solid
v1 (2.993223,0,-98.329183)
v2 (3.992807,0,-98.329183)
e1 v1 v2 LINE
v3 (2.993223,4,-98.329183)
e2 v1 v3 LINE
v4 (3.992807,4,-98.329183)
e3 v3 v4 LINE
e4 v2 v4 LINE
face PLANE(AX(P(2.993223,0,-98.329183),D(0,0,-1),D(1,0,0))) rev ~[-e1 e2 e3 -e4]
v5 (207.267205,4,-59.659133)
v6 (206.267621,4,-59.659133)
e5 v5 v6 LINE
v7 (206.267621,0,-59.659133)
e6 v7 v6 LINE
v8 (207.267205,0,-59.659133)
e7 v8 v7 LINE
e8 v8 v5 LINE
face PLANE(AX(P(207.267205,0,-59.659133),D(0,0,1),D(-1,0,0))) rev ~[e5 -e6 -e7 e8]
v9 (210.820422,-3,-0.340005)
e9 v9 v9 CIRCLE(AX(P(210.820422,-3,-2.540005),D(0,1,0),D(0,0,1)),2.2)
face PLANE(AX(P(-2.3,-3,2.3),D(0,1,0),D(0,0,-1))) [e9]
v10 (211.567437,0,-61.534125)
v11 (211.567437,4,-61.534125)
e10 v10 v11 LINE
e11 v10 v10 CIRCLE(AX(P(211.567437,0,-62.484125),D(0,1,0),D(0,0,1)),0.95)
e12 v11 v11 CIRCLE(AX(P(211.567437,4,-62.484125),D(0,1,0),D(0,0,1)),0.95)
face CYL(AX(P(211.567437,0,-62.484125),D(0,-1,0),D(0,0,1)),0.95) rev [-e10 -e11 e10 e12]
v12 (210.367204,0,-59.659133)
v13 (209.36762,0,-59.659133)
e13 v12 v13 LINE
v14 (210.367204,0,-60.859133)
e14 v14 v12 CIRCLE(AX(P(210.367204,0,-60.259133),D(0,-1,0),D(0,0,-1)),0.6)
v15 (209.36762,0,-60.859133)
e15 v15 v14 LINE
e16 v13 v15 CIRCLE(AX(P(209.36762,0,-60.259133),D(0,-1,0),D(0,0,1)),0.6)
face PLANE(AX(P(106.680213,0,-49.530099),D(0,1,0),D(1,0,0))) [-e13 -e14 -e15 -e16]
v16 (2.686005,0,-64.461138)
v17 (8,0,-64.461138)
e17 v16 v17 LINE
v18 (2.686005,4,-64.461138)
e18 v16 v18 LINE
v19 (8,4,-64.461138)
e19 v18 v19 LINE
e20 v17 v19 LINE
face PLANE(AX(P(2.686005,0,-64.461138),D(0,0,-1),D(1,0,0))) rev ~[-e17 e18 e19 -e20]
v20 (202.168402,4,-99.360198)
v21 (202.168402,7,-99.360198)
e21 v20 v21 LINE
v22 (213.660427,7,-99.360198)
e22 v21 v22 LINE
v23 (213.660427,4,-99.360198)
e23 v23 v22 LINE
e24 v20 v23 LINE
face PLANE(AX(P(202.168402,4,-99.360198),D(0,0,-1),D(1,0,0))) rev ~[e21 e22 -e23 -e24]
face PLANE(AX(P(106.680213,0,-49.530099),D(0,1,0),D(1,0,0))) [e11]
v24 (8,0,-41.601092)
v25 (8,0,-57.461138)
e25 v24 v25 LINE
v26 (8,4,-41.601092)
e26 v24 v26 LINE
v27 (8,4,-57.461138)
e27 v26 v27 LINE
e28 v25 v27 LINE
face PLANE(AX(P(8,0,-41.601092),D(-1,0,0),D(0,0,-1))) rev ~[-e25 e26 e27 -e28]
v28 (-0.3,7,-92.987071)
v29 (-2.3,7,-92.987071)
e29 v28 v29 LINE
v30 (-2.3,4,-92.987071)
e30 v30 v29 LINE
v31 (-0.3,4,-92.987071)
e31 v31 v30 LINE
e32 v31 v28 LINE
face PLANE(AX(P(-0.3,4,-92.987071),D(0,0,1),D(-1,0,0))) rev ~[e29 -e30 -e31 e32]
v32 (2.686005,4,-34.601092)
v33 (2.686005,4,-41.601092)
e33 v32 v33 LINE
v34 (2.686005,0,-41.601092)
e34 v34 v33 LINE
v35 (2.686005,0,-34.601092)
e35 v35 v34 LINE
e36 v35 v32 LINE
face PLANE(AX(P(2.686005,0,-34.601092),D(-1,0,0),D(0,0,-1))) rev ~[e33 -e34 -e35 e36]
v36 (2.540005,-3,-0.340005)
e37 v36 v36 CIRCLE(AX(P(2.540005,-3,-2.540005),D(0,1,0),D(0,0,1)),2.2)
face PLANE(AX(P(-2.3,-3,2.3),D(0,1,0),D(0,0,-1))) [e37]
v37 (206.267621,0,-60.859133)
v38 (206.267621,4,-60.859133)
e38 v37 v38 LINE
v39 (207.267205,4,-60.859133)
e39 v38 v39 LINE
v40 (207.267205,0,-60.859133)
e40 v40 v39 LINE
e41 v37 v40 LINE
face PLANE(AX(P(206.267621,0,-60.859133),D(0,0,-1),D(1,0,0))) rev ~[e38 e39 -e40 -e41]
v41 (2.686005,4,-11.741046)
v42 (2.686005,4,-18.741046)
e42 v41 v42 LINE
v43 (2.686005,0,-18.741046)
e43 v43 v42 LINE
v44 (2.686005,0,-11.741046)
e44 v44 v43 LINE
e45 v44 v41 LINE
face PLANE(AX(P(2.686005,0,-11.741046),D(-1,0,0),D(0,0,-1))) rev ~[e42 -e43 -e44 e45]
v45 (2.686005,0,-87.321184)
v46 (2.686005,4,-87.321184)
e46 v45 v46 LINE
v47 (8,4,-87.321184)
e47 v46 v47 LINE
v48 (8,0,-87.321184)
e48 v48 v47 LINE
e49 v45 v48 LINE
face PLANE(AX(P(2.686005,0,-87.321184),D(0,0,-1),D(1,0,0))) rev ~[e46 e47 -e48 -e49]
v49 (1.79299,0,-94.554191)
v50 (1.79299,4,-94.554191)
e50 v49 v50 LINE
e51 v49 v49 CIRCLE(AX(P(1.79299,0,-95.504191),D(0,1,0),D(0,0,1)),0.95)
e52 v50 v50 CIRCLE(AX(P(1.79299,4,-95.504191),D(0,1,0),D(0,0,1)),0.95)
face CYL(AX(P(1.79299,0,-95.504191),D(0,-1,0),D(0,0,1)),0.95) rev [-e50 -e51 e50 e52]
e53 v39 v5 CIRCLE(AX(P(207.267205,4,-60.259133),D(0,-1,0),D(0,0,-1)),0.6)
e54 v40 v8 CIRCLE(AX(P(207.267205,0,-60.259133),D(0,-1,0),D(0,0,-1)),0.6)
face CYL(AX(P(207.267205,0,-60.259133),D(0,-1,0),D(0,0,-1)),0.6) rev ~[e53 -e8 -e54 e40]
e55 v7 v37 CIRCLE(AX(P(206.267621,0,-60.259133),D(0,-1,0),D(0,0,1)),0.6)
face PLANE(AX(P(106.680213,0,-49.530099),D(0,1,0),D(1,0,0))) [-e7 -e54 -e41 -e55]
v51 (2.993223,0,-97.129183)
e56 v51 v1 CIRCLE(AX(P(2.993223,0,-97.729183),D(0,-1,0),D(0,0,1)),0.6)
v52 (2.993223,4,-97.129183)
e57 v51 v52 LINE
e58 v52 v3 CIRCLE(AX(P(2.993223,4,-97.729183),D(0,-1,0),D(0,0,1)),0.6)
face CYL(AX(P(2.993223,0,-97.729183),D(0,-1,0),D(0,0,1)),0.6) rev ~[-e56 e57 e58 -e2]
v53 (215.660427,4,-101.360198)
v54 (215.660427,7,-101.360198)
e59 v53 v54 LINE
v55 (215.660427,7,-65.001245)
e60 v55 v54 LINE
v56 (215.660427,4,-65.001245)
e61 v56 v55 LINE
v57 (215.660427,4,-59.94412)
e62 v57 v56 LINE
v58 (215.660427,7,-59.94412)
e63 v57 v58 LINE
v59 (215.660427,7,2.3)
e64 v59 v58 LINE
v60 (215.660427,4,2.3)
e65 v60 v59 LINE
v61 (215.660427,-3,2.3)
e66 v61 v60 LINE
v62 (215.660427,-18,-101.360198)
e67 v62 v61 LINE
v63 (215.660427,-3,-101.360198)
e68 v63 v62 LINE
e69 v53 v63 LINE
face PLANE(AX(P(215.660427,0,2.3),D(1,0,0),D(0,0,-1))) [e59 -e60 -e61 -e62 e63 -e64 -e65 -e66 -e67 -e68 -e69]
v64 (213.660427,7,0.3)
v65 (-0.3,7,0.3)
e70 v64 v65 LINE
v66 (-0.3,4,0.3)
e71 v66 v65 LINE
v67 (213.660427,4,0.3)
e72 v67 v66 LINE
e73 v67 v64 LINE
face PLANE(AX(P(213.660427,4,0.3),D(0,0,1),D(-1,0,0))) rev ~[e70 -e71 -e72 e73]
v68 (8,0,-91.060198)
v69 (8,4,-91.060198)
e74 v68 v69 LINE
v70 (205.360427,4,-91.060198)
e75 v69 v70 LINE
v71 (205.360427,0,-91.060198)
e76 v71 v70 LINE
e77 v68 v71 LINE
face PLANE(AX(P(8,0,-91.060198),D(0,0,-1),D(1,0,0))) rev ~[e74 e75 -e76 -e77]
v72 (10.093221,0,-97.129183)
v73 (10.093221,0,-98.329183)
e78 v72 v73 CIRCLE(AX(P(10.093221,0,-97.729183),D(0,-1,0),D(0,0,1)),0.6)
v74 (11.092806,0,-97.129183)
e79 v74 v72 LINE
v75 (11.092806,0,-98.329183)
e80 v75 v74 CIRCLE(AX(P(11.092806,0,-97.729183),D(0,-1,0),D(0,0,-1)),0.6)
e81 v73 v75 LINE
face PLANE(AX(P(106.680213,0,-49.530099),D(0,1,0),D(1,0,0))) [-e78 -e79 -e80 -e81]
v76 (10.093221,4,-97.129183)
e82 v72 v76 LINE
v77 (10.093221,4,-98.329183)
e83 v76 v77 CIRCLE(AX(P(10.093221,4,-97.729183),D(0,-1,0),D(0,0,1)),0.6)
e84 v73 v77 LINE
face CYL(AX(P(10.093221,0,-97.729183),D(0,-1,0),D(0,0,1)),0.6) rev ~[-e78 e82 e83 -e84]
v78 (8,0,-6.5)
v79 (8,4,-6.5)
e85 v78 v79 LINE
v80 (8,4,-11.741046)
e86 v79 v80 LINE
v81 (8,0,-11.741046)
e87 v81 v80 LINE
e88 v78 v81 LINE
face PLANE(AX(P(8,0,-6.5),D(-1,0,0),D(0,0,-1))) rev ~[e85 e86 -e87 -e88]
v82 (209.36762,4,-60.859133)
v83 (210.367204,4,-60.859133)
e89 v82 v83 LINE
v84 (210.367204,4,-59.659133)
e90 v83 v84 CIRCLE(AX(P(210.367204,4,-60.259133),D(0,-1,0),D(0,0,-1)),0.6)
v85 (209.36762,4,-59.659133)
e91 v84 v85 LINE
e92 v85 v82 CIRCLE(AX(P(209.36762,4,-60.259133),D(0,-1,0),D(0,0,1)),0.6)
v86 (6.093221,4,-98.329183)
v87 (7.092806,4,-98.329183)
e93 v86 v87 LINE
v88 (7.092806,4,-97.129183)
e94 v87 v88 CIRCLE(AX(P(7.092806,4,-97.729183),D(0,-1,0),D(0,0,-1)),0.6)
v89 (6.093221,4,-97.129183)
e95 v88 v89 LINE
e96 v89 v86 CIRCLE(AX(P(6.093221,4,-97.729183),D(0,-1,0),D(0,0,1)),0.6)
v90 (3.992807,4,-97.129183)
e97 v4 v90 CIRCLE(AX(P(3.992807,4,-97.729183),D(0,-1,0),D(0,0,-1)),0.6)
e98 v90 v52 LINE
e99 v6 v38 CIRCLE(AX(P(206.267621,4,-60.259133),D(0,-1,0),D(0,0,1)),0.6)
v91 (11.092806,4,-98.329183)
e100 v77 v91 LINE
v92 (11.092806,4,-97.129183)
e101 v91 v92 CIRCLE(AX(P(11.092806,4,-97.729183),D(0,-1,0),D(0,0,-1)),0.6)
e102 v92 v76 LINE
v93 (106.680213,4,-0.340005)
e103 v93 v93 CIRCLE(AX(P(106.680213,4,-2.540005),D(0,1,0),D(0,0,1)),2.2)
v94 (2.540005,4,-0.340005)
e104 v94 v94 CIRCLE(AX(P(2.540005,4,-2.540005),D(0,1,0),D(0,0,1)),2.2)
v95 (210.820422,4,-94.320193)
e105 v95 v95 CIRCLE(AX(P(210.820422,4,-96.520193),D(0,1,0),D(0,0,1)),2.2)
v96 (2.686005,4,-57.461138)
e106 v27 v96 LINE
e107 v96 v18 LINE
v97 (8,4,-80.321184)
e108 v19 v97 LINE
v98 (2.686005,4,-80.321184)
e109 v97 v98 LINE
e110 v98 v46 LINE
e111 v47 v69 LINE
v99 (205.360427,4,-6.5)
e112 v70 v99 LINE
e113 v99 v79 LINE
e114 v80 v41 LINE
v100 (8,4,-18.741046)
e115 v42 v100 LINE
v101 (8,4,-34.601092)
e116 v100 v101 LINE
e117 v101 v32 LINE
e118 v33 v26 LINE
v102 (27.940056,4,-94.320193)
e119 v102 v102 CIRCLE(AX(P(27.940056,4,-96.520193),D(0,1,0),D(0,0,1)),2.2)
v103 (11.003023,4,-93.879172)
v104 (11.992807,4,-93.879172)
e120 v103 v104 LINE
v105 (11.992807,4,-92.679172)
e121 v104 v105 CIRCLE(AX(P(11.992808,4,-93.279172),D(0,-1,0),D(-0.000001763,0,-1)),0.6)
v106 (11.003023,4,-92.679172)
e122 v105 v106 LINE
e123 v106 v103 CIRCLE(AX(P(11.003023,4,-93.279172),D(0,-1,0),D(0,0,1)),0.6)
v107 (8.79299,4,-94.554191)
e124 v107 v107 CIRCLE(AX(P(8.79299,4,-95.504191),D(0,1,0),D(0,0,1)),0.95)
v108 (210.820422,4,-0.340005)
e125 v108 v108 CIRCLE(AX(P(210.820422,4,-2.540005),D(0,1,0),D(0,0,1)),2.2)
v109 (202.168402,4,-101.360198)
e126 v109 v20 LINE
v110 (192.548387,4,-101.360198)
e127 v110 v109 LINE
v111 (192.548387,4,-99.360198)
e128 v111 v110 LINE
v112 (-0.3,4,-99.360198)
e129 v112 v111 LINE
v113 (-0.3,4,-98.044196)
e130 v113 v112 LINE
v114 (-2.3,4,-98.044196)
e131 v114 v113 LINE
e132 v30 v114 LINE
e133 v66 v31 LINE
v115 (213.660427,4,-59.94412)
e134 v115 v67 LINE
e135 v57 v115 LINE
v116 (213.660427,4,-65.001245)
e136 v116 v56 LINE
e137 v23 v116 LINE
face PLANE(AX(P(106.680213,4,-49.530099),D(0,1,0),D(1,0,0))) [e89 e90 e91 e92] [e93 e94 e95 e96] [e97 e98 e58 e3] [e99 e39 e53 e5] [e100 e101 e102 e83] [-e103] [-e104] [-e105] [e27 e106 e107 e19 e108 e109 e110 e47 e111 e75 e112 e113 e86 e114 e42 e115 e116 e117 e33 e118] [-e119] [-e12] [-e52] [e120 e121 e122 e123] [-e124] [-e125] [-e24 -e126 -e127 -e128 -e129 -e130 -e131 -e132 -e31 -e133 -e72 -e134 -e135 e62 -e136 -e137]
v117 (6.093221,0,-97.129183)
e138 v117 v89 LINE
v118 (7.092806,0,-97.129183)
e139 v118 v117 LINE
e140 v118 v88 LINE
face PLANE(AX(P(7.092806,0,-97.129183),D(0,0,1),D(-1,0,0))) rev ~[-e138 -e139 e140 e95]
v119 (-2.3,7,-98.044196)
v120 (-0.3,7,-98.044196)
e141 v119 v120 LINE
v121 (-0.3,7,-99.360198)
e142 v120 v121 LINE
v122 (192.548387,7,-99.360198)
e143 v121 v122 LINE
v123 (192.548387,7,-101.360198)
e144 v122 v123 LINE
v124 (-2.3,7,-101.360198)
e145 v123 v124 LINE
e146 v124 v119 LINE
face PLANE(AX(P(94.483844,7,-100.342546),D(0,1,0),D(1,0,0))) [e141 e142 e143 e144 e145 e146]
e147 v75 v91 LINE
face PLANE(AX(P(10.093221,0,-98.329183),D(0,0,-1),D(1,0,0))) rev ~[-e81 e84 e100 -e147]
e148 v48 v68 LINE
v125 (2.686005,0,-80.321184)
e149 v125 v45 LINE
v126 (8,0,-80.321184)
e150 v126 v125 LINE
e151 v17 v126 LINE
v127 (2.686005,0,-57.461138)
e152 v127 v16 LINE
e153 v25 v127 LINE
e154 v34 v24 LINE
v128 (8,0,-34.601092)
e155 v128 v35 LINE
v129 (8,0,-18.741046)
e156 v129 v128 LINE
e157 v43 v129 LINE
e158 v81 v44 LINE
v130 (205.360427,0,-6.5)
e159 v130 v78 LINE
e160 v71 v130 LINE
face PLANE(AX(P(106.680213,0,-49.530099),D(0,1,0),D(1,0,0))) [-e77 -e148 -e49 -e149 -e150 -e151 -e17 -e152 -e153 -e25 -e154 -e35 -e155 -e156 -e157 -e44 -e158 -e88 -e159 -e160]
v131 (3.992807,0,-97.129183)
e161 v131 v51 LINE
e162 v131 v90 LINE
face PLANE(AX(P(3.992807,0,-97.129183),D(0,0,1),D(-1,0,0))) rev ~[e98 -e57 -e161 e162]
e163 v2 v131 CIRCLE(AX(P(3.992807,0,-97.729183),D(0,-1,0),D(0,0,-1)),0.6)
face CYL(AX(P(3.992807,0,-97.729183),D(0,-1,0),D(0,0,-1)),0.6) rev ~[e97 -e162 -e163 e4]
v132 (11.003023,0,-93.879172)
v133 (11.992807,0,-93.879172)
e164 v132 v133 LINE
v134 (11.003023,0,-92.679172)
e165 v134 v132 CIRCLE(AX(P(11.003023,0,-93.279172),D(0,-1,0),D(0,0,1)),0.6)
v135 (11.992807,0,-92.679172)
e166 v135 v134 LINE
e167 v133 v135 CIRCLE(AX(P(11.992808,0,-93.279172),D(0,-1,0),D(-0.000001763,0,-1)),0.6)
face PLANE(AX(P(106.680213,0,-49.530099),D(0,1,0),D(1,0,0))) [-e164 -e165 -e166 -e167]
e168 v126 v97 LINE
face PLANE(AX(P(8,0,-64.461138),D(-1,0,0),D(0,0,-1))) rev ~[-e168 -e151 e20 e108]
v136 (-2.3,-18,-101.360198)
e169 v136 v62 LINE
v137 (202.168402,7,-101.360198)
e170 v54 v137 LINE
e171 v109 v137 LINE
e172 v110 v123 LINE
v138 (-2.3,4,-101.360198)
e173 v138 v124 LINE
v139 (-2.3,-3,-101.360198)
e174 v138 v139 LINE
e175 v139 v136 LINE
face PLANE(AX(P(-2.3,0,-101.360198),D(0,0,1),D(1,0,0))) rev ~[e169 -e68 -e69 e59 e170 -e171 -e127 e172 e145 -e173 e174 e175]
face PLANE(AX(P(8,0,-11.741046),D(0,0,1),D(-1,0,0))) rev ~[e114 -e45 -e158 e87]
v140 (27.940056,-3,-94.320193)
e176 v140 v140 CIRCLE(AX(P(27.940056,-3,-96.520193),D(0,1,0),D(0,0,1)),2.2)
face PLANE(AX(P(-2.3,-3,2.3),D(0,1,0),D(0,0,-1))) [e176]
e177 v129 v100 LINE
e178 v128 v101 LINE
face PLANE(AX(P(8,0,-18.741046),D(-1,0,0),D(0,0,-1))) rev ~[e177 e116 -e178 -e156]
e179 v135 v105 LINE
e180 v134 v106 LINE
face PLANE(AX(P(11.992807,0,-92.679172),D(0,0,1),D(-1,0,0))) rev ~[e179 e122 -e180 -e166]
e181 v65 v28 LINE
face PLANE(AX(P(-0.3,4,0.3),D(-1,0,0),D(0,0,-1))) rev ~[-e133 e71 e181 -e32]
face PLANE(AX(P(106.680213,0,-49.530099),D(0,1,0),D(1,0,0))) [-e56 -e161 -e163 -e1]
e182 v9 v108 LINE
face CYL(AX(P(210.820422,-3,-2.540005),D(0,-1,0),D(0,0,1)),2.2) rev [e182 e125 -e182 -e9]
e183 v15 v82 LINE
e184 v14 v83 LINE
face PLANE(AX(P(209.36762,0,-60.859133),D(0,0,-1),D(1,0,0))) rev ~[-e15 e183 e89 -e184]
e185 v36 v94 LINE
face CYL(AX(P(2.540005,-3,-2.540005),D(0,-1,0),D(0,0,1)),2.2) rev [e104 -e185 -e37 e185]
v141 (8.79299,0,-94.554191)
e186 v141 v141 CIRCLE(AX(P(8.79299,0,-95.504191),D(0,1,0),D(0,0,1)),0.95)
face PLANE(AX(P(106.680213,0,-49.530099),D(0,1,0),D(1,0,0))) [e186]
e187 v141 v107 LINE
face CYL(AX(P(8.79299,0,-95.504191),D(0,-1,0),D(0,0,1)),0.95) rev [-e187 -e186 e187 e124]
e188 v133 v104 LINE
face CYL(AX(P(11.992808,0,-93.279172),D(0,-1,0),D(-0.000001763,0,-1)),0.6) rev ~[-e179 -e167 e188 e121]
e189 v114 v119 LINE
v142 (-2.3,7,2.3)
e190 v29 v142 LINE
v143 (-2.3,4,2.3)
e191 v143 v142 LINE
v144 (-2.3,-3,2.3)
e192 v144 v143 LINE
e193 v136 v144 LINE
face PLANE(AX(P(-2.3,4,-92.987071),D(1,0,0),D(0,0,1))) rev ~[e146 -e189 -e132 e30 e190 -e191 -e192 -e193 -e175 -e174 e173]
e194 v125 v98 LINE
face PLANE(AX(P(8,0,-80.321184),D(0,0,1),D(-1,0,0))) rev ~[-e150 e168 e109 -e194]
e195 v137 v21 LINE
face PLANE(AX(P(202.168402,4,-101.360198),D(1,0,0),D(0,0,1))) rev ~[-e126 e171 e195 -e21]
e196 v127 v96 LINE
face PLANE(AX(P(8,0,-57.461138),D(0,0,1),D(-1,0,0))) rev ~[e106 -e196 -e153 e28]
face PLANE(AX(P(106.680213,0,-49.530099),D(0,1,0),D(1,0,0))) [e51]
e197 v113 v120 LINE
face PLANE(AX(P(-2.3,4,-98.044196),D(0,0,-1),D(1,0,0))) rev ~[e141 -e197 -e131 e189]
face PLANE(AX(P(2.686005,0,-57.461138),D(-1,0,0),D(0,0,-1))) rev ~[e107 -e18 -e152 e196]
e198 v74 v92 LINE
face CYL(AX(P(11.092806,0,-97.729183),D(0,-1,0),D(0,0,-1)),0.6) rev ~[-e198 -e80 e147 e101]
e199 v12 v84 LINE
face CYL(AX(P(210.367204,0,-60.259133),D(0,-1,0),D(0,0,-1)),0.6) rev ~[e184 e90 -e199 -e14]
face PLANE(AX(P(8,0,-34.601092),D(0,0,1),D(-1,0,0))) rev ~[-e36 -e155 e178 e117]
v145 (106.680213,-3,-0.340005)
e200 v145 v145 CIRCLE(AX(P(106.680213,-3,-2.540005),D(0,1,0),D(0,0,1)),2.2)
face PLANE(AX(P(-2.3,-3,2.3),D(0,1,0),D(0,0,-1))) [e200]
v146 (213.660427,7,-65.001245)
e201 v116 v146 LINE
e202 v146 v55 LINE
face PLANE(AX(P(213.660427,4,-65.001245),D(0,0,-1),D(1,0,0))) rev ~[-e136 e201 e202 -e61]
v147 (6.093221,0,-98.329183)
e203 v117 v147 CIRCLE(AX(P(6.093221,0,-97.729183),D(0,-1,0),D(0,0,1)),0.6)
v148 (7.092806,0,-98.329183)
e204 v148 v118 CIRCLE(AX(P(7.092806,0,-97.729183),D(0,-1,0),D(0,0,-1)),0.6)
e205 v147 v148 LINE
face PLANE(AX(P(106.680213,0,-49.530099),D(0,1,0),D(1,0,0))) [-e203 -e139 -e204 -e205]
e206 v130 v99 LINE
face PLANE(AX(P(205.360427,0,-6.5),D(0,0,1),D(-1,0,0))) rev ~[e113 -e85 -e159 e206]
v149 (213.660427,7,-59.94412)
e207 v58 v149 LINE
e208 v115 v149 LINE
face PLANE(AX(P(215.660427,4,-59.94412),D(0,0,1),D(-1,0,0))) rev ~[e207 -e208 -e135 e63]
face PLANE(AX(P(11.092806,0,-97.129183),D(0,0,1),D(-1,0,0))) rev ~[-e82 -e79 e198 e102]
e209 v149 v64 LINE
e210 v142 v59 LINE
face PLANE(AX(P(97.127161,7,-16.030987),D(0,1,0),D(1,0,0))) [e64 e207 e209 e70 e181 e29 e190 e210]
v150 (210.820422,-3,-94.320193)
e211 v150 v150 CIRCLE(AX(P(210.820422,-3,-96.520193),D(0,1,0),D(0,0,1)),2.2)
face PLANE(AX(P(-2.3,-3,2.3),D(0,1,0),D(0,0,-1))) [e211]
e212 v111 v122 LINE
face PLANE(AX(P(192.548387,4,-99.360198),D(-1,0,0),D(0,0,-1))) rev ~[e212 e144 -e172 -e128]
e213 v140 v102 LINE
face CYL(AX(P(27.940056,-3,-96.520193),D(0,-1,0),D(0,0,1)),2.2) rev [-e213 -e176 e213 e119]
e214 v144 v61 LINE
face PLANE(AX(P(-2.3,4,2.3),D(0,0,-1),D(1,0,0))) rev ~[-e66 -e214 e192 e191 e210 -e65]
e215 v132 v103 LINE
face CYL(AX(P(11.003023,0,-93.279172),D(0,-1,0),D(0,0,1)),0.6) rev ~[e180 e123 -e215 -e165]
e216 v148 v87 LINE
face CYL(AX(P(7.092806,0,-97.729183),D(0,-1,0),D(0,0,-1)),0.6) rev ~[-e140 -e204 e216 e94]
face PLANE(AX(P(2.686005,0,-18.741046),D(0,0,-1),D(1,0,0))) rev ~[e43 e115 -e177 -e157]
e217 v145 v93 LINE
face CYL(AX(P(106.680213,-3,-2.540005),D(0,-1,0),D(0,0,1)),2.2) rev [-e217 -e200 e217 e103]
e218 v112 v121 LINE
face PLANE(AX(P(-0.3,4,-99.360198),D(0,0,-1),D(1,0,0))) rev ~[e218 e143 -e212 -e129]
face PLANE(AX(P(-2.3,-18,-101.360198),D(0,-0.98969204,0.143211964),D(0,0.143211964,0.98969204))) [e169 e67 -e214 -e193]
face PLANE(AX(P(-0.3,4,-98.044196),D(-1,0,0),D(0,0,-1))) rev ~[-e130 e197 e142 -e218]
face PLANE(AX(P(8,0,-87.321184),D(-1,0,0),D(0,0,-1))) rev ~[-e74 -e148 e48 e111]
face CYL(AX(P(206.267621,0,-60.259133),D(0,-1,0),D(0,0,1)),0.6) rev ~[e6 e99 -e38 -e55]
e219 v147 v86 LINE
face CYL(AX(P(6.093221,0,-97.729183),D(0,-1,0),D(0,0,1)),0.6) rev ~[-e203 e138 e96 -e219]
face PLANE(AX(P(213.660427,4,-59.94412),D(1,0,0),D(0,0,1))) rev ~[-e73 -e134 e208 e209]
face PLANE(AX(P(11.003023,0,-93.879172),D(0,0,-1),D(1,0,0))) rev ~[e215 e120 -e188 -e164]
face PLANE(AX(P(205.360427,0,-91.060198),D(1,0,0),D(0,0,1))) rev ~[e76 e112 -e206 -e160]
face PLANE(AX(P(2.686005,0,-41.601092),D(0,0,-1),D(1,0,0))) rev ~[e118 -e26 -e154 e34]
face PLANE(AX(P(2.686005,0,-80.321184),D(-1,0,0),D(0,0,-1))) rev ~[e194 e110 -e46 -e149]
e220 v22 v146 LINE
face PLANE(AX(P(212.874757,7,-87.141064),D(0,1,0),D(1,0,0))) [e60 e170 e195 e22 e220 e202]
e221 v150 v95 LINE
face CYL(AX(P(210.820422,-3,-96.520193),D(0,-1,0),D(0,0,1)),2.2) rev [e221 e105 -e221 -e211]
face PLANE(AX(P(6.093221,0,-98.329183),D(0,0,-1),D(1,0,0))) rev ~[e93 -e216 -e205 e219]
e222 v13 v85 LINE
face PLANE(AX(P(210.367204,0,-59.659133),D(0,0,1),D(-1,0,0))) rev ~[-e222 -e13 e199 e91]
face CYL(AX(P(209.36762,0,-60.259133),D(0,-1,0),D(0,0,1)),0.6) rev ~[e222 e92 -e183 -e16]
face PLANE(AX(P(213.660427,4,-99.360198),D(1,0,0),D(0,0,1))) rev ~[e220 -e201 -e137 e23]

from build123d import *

# Parameters (mm, degrees)
SKETCH4_W           = 217.960426721
SKETCH4_H           = 103.66019812
SKETCH4_R           = 2.2
SKETCH4_R_2         = 0.95
BOSS_EXTRUDE1_DEPTH = 4
SKETCH4_7_W         = 217.960426721
SKETCH4_7_H         = 103.66019812
BOSS_EXTRUDE2_DEPTH = 3
CUT_EXTRUDE1_START  = -3
SKETCH4_8_R         = 2.2
CUT_EXTRUDE1_DEPTH  = 3
BOSS_EXTRUDE3_START = 4
BOSS_EXTRUDE3_DEPTH = 3
BOSS_EXTRUDE4_DEPTH = 217.960426721


with BuildPart() as part:
    # Sketch4 → Boss-Extrude1 (new body)
    with BuildSketch(Plane(origin=(0, 0, 0), x_dir=(1, 0, 0), z_dir=(0, 1, 0))):
        with Locations((106.680213361, 49.53009906)):
            Rectangle(SKETCH4_W, SKETCH4_H)
        with Locations(Location((2.54000508, 2.54000508, 0), (0, 0, 270))):
            Circle(SKETCH4_R, mode=Mode.SUBTRACT)
        with Locations(Location((106.68021336, 2.54000508, 0), (0, 0, 270))):
            Circle(SKETCH4_R, mode=Mode.SUBTRACT)
        Polygon((205.360426721, 91.06019812), (205.360426721, 6.5), (8, 6.5), (8, 11.741046482), (2.686004572, 11.741046482), (2.686004572, 18.741046482), (8, 18.741046482), (8, 34.601092202), (2.686004572, 34.601092202), (2.686004572, 41.601092202), (8, 41.601092202), (8, 57.461137922), (2.686004572, 57.461137922), (2.686004572, 64.461137922), (8, 64.461137922), (8, 80.321183642), (2.686004572, 80.321183642), (2.686004572, 87.321183642), (8, 87.321183642), (8, 91.06019812), align=None, mode=Mode.SUBTRACT)
        with Locations(Location((210.820421641, 2.54000508, 0), (0, 0, 270))):
            Circle(SKETCH4_R, mode=Mode.SUBTRACT)
        with Locations(Location((1.792989586, 95.504191008, 0), (0, 0, 270))):
            Circle(SKETCH4_R_2, mode=Mode.SUBTRACT)
        with BuildLine():
            ThreePointArc((11.003022606, 92.679171958), (10.403022606, 93.279171958), (11.003022606, 93.879171958))
            Line((11.003022606, 93.879171958), (11.992807214, 93.879171958))
            ThreePointArc((11.992807214, 93.879171958), (12.592808272, 93.279171958), (11.992807214, 92.679171958))
            Line((11.992807214, 92.679171958), (11.003022606, 92.679171958))
        make_face(mode=Mode.SUBTRACT)
        with Locations(Location((8.792989586, 95.504191008, 0), (0, 0, 270))):
            Circle(SKETCH4_R_2, mode=Mode.SUBTRACT)
        with BuildLine():
            ThreePointArc((2.993222758, 97.129182542), (2.393222758, 97.729182542), (2.993222758, 98.329182542))
            Line((2.993222758, 98.329182542), (3.992807214, 98.329182542))
            ThreePointArc((3.992807214, 98.329182542), (4.592807214, 97.729182542), (3.992807214, 97.129182542))
            Line((3.992807214, 97.129182542), (2.993222758, 97.129182542))
        make_face(mode=Mode.SUBTRACT)
        with BuildLine():
            ThreePointArc((6.093221234, 97.129182542), (5.493221234, 97.729182542), (6.093221234, 98.329182542))
            Line((6.093221234, 98.329182542), (7.09280569, 98.329182542))
            ThreePointArc((7.09280569, 98.329182542), (7.69280569, 97.729182542), (7.09280569, 97.129182542))
            Line((7.09280569, 97.129182542), (6.093221234, 97.129182542))
        make_face(mode=Mode.SUBTRACT)
        with BuildLine():
            ThreePointArc((10.093221234, 97.129182542), (9.493221234, 97.729182542), (10.093221234, 98.329182542))
            Line((10.093221234, 98.329182542), (11.09280569, 98.329182542))
            ThreePointArc((11.09280569, 98.329182542), (11.69280569, 97.729182542), (11.09280569, 97.129182542))
            Line((11.09280569, 97.129182542), (10.093221234, 97.129182542))
        make_face(mode=Mode.SUBTRACT)
        with Locations(Location((27.94005588, 96.52019304, 0), (0, 0, 270))):
            Circle(SKETCH4_R, mode=Mode.SUBTRACT)
        with BuildLine():
            ThreePointArc((206.267621031, 59.659133435), (205.667621031, 60.259133435), (206.267621031, 60.859133435))
            Line((206.267621031, 60.859133435), (207.267205486, 60.859133435))
            ThreePointArc((207.267205486, 60.859133435), (207.867205486, 60.259133435), (207.267205486, 59.659133435))
            Line((207.267205486, 59.659133435), (206.267621031, 59.659133435))
        make_face(mode=Mode.SUBTRACT)
        with BuildLine():
            ThreePointArc((209.367619507, 59.659133435), (208.767619507, 60.259133435), (209.367619507, 60.859133435))
            Line((209.367619507, 60.859133435), (210.367203962, 60.859133435))
            ThreePointArc((210.367203962, 60.859133435), (210.967203962, 60.259133435), (210.367203962, 59.659133435))
            Line((210.367203962, 59.659133435), (209.367619507, 59.659133435))
        make_face(mode=Mode.SUBTRACT)
        with Locations(Location((211.567437135, 62.484124968, 0), (0, 0, 270))):
            Circle(SKETCH4_R_2, mode=Mode.SUBTRACT)
        with Locations(Location((210.820421641, 96.52019304, 0), (0, 0, 270))):
            Circle(SKETCH4_R, mode=Mode.SUBTRACT)
    extrude(amount=BOSS_EXTRUDE1_DEPTH)

    # Sketch4<7> → Boss-Extrude2 (add)
    with BuildSketch(Plane(origin=(0, 0, 0), x_dir=(1, 0, 0), z_dir=(0, 1, 0))):
        with Locations((106.680213361, 49.53009906)):
            Rectangle(SKETCH4_7_W, SKETCH4_7_H)
    extrude(amount=-BOSS_EXTRUDE2_DEPTH)

    # Sketch4<8> → Cut-Extrude1 (cut)
    with BuildSketch(Plane(origin=(0, 0, 0), x_dir=(1, 0, 0), z_dir=(0, 1, 0)).offset(CUT_EXTRUDE1_START)):
        with Locations(Location((27.94005588, 96.52019304, 0), (0, 0, 270))):
            Circle(SKETCH4_8_R)
        with Locations(Location((210.820421641, 96.52019304, 0), (0, 0, 270))):
            Circle(SKETCH4_8_R)
        with Locations(Location((210.820421641, 2.54000508, 0), (0, 0, 270))):
            Circle(SKETCH4_8_R)
        with Locations(Location((106.68021336, 2.54000508, 0), (0, 0, 270))):
            Circle(SKETCH4_8_R)
        with Locations(Location((2.54000508, 2.54000508, 0), (0, 0, 270))):
            Circle(SKETCH4_8_R)
    extrude(amount=CUT_EXTRUDE1_DEPTH, mode=Mode.SUBTRACT)

    # Sketch4<10> → Boss-Extrude3 (add)
    with BuildSketch(Plane(origin=(0, 0, 0), x_dir=(1, 0, 0), z_dir=(0, 1, 0)).offset(BOSS_EXTRUDE3_START)):
        Polygon((-0.3, -0.3), (-0.3, 92.987071374), (-2.3, 92.987071374), (-2.3, -2.3), (215.660426721, -2.3), (215.660426721, 59.944119888), (213.660426721, 59.944119888), (213.660426721, -0.3), align=None)
        Polygon((-0.3, 99.36019812), (192.548387097, 99.36019812), (192.548387097, 101.36019812), (-2.3, 101.36019812), (-2.3, 98.044196088), (-0.3, 98.044196088), align=None)
        Polygon((202.168402337, 101.36019812), (202.168402337, 99.36019812), (213.660426721, 99.36019812), (213.660426721, 65.001244602), (215.660426721, 65.001244602), (215.660426721, 101.36019812), align=None)
    extrude(amount=BOSS_EXTRUDE3_DEPTH)

    # Sketch5 → Boss-Extrude4 (add)
    with BuildSketch(Plane.ZY.offset(2.3)):
        Polygon((2.3, -3), (-101.36019812, -3), (-101.36019812, -18), align=None)
    extrude(amount=-BOSS_EXTRUDE4_DEPTH)


solid = part.part
